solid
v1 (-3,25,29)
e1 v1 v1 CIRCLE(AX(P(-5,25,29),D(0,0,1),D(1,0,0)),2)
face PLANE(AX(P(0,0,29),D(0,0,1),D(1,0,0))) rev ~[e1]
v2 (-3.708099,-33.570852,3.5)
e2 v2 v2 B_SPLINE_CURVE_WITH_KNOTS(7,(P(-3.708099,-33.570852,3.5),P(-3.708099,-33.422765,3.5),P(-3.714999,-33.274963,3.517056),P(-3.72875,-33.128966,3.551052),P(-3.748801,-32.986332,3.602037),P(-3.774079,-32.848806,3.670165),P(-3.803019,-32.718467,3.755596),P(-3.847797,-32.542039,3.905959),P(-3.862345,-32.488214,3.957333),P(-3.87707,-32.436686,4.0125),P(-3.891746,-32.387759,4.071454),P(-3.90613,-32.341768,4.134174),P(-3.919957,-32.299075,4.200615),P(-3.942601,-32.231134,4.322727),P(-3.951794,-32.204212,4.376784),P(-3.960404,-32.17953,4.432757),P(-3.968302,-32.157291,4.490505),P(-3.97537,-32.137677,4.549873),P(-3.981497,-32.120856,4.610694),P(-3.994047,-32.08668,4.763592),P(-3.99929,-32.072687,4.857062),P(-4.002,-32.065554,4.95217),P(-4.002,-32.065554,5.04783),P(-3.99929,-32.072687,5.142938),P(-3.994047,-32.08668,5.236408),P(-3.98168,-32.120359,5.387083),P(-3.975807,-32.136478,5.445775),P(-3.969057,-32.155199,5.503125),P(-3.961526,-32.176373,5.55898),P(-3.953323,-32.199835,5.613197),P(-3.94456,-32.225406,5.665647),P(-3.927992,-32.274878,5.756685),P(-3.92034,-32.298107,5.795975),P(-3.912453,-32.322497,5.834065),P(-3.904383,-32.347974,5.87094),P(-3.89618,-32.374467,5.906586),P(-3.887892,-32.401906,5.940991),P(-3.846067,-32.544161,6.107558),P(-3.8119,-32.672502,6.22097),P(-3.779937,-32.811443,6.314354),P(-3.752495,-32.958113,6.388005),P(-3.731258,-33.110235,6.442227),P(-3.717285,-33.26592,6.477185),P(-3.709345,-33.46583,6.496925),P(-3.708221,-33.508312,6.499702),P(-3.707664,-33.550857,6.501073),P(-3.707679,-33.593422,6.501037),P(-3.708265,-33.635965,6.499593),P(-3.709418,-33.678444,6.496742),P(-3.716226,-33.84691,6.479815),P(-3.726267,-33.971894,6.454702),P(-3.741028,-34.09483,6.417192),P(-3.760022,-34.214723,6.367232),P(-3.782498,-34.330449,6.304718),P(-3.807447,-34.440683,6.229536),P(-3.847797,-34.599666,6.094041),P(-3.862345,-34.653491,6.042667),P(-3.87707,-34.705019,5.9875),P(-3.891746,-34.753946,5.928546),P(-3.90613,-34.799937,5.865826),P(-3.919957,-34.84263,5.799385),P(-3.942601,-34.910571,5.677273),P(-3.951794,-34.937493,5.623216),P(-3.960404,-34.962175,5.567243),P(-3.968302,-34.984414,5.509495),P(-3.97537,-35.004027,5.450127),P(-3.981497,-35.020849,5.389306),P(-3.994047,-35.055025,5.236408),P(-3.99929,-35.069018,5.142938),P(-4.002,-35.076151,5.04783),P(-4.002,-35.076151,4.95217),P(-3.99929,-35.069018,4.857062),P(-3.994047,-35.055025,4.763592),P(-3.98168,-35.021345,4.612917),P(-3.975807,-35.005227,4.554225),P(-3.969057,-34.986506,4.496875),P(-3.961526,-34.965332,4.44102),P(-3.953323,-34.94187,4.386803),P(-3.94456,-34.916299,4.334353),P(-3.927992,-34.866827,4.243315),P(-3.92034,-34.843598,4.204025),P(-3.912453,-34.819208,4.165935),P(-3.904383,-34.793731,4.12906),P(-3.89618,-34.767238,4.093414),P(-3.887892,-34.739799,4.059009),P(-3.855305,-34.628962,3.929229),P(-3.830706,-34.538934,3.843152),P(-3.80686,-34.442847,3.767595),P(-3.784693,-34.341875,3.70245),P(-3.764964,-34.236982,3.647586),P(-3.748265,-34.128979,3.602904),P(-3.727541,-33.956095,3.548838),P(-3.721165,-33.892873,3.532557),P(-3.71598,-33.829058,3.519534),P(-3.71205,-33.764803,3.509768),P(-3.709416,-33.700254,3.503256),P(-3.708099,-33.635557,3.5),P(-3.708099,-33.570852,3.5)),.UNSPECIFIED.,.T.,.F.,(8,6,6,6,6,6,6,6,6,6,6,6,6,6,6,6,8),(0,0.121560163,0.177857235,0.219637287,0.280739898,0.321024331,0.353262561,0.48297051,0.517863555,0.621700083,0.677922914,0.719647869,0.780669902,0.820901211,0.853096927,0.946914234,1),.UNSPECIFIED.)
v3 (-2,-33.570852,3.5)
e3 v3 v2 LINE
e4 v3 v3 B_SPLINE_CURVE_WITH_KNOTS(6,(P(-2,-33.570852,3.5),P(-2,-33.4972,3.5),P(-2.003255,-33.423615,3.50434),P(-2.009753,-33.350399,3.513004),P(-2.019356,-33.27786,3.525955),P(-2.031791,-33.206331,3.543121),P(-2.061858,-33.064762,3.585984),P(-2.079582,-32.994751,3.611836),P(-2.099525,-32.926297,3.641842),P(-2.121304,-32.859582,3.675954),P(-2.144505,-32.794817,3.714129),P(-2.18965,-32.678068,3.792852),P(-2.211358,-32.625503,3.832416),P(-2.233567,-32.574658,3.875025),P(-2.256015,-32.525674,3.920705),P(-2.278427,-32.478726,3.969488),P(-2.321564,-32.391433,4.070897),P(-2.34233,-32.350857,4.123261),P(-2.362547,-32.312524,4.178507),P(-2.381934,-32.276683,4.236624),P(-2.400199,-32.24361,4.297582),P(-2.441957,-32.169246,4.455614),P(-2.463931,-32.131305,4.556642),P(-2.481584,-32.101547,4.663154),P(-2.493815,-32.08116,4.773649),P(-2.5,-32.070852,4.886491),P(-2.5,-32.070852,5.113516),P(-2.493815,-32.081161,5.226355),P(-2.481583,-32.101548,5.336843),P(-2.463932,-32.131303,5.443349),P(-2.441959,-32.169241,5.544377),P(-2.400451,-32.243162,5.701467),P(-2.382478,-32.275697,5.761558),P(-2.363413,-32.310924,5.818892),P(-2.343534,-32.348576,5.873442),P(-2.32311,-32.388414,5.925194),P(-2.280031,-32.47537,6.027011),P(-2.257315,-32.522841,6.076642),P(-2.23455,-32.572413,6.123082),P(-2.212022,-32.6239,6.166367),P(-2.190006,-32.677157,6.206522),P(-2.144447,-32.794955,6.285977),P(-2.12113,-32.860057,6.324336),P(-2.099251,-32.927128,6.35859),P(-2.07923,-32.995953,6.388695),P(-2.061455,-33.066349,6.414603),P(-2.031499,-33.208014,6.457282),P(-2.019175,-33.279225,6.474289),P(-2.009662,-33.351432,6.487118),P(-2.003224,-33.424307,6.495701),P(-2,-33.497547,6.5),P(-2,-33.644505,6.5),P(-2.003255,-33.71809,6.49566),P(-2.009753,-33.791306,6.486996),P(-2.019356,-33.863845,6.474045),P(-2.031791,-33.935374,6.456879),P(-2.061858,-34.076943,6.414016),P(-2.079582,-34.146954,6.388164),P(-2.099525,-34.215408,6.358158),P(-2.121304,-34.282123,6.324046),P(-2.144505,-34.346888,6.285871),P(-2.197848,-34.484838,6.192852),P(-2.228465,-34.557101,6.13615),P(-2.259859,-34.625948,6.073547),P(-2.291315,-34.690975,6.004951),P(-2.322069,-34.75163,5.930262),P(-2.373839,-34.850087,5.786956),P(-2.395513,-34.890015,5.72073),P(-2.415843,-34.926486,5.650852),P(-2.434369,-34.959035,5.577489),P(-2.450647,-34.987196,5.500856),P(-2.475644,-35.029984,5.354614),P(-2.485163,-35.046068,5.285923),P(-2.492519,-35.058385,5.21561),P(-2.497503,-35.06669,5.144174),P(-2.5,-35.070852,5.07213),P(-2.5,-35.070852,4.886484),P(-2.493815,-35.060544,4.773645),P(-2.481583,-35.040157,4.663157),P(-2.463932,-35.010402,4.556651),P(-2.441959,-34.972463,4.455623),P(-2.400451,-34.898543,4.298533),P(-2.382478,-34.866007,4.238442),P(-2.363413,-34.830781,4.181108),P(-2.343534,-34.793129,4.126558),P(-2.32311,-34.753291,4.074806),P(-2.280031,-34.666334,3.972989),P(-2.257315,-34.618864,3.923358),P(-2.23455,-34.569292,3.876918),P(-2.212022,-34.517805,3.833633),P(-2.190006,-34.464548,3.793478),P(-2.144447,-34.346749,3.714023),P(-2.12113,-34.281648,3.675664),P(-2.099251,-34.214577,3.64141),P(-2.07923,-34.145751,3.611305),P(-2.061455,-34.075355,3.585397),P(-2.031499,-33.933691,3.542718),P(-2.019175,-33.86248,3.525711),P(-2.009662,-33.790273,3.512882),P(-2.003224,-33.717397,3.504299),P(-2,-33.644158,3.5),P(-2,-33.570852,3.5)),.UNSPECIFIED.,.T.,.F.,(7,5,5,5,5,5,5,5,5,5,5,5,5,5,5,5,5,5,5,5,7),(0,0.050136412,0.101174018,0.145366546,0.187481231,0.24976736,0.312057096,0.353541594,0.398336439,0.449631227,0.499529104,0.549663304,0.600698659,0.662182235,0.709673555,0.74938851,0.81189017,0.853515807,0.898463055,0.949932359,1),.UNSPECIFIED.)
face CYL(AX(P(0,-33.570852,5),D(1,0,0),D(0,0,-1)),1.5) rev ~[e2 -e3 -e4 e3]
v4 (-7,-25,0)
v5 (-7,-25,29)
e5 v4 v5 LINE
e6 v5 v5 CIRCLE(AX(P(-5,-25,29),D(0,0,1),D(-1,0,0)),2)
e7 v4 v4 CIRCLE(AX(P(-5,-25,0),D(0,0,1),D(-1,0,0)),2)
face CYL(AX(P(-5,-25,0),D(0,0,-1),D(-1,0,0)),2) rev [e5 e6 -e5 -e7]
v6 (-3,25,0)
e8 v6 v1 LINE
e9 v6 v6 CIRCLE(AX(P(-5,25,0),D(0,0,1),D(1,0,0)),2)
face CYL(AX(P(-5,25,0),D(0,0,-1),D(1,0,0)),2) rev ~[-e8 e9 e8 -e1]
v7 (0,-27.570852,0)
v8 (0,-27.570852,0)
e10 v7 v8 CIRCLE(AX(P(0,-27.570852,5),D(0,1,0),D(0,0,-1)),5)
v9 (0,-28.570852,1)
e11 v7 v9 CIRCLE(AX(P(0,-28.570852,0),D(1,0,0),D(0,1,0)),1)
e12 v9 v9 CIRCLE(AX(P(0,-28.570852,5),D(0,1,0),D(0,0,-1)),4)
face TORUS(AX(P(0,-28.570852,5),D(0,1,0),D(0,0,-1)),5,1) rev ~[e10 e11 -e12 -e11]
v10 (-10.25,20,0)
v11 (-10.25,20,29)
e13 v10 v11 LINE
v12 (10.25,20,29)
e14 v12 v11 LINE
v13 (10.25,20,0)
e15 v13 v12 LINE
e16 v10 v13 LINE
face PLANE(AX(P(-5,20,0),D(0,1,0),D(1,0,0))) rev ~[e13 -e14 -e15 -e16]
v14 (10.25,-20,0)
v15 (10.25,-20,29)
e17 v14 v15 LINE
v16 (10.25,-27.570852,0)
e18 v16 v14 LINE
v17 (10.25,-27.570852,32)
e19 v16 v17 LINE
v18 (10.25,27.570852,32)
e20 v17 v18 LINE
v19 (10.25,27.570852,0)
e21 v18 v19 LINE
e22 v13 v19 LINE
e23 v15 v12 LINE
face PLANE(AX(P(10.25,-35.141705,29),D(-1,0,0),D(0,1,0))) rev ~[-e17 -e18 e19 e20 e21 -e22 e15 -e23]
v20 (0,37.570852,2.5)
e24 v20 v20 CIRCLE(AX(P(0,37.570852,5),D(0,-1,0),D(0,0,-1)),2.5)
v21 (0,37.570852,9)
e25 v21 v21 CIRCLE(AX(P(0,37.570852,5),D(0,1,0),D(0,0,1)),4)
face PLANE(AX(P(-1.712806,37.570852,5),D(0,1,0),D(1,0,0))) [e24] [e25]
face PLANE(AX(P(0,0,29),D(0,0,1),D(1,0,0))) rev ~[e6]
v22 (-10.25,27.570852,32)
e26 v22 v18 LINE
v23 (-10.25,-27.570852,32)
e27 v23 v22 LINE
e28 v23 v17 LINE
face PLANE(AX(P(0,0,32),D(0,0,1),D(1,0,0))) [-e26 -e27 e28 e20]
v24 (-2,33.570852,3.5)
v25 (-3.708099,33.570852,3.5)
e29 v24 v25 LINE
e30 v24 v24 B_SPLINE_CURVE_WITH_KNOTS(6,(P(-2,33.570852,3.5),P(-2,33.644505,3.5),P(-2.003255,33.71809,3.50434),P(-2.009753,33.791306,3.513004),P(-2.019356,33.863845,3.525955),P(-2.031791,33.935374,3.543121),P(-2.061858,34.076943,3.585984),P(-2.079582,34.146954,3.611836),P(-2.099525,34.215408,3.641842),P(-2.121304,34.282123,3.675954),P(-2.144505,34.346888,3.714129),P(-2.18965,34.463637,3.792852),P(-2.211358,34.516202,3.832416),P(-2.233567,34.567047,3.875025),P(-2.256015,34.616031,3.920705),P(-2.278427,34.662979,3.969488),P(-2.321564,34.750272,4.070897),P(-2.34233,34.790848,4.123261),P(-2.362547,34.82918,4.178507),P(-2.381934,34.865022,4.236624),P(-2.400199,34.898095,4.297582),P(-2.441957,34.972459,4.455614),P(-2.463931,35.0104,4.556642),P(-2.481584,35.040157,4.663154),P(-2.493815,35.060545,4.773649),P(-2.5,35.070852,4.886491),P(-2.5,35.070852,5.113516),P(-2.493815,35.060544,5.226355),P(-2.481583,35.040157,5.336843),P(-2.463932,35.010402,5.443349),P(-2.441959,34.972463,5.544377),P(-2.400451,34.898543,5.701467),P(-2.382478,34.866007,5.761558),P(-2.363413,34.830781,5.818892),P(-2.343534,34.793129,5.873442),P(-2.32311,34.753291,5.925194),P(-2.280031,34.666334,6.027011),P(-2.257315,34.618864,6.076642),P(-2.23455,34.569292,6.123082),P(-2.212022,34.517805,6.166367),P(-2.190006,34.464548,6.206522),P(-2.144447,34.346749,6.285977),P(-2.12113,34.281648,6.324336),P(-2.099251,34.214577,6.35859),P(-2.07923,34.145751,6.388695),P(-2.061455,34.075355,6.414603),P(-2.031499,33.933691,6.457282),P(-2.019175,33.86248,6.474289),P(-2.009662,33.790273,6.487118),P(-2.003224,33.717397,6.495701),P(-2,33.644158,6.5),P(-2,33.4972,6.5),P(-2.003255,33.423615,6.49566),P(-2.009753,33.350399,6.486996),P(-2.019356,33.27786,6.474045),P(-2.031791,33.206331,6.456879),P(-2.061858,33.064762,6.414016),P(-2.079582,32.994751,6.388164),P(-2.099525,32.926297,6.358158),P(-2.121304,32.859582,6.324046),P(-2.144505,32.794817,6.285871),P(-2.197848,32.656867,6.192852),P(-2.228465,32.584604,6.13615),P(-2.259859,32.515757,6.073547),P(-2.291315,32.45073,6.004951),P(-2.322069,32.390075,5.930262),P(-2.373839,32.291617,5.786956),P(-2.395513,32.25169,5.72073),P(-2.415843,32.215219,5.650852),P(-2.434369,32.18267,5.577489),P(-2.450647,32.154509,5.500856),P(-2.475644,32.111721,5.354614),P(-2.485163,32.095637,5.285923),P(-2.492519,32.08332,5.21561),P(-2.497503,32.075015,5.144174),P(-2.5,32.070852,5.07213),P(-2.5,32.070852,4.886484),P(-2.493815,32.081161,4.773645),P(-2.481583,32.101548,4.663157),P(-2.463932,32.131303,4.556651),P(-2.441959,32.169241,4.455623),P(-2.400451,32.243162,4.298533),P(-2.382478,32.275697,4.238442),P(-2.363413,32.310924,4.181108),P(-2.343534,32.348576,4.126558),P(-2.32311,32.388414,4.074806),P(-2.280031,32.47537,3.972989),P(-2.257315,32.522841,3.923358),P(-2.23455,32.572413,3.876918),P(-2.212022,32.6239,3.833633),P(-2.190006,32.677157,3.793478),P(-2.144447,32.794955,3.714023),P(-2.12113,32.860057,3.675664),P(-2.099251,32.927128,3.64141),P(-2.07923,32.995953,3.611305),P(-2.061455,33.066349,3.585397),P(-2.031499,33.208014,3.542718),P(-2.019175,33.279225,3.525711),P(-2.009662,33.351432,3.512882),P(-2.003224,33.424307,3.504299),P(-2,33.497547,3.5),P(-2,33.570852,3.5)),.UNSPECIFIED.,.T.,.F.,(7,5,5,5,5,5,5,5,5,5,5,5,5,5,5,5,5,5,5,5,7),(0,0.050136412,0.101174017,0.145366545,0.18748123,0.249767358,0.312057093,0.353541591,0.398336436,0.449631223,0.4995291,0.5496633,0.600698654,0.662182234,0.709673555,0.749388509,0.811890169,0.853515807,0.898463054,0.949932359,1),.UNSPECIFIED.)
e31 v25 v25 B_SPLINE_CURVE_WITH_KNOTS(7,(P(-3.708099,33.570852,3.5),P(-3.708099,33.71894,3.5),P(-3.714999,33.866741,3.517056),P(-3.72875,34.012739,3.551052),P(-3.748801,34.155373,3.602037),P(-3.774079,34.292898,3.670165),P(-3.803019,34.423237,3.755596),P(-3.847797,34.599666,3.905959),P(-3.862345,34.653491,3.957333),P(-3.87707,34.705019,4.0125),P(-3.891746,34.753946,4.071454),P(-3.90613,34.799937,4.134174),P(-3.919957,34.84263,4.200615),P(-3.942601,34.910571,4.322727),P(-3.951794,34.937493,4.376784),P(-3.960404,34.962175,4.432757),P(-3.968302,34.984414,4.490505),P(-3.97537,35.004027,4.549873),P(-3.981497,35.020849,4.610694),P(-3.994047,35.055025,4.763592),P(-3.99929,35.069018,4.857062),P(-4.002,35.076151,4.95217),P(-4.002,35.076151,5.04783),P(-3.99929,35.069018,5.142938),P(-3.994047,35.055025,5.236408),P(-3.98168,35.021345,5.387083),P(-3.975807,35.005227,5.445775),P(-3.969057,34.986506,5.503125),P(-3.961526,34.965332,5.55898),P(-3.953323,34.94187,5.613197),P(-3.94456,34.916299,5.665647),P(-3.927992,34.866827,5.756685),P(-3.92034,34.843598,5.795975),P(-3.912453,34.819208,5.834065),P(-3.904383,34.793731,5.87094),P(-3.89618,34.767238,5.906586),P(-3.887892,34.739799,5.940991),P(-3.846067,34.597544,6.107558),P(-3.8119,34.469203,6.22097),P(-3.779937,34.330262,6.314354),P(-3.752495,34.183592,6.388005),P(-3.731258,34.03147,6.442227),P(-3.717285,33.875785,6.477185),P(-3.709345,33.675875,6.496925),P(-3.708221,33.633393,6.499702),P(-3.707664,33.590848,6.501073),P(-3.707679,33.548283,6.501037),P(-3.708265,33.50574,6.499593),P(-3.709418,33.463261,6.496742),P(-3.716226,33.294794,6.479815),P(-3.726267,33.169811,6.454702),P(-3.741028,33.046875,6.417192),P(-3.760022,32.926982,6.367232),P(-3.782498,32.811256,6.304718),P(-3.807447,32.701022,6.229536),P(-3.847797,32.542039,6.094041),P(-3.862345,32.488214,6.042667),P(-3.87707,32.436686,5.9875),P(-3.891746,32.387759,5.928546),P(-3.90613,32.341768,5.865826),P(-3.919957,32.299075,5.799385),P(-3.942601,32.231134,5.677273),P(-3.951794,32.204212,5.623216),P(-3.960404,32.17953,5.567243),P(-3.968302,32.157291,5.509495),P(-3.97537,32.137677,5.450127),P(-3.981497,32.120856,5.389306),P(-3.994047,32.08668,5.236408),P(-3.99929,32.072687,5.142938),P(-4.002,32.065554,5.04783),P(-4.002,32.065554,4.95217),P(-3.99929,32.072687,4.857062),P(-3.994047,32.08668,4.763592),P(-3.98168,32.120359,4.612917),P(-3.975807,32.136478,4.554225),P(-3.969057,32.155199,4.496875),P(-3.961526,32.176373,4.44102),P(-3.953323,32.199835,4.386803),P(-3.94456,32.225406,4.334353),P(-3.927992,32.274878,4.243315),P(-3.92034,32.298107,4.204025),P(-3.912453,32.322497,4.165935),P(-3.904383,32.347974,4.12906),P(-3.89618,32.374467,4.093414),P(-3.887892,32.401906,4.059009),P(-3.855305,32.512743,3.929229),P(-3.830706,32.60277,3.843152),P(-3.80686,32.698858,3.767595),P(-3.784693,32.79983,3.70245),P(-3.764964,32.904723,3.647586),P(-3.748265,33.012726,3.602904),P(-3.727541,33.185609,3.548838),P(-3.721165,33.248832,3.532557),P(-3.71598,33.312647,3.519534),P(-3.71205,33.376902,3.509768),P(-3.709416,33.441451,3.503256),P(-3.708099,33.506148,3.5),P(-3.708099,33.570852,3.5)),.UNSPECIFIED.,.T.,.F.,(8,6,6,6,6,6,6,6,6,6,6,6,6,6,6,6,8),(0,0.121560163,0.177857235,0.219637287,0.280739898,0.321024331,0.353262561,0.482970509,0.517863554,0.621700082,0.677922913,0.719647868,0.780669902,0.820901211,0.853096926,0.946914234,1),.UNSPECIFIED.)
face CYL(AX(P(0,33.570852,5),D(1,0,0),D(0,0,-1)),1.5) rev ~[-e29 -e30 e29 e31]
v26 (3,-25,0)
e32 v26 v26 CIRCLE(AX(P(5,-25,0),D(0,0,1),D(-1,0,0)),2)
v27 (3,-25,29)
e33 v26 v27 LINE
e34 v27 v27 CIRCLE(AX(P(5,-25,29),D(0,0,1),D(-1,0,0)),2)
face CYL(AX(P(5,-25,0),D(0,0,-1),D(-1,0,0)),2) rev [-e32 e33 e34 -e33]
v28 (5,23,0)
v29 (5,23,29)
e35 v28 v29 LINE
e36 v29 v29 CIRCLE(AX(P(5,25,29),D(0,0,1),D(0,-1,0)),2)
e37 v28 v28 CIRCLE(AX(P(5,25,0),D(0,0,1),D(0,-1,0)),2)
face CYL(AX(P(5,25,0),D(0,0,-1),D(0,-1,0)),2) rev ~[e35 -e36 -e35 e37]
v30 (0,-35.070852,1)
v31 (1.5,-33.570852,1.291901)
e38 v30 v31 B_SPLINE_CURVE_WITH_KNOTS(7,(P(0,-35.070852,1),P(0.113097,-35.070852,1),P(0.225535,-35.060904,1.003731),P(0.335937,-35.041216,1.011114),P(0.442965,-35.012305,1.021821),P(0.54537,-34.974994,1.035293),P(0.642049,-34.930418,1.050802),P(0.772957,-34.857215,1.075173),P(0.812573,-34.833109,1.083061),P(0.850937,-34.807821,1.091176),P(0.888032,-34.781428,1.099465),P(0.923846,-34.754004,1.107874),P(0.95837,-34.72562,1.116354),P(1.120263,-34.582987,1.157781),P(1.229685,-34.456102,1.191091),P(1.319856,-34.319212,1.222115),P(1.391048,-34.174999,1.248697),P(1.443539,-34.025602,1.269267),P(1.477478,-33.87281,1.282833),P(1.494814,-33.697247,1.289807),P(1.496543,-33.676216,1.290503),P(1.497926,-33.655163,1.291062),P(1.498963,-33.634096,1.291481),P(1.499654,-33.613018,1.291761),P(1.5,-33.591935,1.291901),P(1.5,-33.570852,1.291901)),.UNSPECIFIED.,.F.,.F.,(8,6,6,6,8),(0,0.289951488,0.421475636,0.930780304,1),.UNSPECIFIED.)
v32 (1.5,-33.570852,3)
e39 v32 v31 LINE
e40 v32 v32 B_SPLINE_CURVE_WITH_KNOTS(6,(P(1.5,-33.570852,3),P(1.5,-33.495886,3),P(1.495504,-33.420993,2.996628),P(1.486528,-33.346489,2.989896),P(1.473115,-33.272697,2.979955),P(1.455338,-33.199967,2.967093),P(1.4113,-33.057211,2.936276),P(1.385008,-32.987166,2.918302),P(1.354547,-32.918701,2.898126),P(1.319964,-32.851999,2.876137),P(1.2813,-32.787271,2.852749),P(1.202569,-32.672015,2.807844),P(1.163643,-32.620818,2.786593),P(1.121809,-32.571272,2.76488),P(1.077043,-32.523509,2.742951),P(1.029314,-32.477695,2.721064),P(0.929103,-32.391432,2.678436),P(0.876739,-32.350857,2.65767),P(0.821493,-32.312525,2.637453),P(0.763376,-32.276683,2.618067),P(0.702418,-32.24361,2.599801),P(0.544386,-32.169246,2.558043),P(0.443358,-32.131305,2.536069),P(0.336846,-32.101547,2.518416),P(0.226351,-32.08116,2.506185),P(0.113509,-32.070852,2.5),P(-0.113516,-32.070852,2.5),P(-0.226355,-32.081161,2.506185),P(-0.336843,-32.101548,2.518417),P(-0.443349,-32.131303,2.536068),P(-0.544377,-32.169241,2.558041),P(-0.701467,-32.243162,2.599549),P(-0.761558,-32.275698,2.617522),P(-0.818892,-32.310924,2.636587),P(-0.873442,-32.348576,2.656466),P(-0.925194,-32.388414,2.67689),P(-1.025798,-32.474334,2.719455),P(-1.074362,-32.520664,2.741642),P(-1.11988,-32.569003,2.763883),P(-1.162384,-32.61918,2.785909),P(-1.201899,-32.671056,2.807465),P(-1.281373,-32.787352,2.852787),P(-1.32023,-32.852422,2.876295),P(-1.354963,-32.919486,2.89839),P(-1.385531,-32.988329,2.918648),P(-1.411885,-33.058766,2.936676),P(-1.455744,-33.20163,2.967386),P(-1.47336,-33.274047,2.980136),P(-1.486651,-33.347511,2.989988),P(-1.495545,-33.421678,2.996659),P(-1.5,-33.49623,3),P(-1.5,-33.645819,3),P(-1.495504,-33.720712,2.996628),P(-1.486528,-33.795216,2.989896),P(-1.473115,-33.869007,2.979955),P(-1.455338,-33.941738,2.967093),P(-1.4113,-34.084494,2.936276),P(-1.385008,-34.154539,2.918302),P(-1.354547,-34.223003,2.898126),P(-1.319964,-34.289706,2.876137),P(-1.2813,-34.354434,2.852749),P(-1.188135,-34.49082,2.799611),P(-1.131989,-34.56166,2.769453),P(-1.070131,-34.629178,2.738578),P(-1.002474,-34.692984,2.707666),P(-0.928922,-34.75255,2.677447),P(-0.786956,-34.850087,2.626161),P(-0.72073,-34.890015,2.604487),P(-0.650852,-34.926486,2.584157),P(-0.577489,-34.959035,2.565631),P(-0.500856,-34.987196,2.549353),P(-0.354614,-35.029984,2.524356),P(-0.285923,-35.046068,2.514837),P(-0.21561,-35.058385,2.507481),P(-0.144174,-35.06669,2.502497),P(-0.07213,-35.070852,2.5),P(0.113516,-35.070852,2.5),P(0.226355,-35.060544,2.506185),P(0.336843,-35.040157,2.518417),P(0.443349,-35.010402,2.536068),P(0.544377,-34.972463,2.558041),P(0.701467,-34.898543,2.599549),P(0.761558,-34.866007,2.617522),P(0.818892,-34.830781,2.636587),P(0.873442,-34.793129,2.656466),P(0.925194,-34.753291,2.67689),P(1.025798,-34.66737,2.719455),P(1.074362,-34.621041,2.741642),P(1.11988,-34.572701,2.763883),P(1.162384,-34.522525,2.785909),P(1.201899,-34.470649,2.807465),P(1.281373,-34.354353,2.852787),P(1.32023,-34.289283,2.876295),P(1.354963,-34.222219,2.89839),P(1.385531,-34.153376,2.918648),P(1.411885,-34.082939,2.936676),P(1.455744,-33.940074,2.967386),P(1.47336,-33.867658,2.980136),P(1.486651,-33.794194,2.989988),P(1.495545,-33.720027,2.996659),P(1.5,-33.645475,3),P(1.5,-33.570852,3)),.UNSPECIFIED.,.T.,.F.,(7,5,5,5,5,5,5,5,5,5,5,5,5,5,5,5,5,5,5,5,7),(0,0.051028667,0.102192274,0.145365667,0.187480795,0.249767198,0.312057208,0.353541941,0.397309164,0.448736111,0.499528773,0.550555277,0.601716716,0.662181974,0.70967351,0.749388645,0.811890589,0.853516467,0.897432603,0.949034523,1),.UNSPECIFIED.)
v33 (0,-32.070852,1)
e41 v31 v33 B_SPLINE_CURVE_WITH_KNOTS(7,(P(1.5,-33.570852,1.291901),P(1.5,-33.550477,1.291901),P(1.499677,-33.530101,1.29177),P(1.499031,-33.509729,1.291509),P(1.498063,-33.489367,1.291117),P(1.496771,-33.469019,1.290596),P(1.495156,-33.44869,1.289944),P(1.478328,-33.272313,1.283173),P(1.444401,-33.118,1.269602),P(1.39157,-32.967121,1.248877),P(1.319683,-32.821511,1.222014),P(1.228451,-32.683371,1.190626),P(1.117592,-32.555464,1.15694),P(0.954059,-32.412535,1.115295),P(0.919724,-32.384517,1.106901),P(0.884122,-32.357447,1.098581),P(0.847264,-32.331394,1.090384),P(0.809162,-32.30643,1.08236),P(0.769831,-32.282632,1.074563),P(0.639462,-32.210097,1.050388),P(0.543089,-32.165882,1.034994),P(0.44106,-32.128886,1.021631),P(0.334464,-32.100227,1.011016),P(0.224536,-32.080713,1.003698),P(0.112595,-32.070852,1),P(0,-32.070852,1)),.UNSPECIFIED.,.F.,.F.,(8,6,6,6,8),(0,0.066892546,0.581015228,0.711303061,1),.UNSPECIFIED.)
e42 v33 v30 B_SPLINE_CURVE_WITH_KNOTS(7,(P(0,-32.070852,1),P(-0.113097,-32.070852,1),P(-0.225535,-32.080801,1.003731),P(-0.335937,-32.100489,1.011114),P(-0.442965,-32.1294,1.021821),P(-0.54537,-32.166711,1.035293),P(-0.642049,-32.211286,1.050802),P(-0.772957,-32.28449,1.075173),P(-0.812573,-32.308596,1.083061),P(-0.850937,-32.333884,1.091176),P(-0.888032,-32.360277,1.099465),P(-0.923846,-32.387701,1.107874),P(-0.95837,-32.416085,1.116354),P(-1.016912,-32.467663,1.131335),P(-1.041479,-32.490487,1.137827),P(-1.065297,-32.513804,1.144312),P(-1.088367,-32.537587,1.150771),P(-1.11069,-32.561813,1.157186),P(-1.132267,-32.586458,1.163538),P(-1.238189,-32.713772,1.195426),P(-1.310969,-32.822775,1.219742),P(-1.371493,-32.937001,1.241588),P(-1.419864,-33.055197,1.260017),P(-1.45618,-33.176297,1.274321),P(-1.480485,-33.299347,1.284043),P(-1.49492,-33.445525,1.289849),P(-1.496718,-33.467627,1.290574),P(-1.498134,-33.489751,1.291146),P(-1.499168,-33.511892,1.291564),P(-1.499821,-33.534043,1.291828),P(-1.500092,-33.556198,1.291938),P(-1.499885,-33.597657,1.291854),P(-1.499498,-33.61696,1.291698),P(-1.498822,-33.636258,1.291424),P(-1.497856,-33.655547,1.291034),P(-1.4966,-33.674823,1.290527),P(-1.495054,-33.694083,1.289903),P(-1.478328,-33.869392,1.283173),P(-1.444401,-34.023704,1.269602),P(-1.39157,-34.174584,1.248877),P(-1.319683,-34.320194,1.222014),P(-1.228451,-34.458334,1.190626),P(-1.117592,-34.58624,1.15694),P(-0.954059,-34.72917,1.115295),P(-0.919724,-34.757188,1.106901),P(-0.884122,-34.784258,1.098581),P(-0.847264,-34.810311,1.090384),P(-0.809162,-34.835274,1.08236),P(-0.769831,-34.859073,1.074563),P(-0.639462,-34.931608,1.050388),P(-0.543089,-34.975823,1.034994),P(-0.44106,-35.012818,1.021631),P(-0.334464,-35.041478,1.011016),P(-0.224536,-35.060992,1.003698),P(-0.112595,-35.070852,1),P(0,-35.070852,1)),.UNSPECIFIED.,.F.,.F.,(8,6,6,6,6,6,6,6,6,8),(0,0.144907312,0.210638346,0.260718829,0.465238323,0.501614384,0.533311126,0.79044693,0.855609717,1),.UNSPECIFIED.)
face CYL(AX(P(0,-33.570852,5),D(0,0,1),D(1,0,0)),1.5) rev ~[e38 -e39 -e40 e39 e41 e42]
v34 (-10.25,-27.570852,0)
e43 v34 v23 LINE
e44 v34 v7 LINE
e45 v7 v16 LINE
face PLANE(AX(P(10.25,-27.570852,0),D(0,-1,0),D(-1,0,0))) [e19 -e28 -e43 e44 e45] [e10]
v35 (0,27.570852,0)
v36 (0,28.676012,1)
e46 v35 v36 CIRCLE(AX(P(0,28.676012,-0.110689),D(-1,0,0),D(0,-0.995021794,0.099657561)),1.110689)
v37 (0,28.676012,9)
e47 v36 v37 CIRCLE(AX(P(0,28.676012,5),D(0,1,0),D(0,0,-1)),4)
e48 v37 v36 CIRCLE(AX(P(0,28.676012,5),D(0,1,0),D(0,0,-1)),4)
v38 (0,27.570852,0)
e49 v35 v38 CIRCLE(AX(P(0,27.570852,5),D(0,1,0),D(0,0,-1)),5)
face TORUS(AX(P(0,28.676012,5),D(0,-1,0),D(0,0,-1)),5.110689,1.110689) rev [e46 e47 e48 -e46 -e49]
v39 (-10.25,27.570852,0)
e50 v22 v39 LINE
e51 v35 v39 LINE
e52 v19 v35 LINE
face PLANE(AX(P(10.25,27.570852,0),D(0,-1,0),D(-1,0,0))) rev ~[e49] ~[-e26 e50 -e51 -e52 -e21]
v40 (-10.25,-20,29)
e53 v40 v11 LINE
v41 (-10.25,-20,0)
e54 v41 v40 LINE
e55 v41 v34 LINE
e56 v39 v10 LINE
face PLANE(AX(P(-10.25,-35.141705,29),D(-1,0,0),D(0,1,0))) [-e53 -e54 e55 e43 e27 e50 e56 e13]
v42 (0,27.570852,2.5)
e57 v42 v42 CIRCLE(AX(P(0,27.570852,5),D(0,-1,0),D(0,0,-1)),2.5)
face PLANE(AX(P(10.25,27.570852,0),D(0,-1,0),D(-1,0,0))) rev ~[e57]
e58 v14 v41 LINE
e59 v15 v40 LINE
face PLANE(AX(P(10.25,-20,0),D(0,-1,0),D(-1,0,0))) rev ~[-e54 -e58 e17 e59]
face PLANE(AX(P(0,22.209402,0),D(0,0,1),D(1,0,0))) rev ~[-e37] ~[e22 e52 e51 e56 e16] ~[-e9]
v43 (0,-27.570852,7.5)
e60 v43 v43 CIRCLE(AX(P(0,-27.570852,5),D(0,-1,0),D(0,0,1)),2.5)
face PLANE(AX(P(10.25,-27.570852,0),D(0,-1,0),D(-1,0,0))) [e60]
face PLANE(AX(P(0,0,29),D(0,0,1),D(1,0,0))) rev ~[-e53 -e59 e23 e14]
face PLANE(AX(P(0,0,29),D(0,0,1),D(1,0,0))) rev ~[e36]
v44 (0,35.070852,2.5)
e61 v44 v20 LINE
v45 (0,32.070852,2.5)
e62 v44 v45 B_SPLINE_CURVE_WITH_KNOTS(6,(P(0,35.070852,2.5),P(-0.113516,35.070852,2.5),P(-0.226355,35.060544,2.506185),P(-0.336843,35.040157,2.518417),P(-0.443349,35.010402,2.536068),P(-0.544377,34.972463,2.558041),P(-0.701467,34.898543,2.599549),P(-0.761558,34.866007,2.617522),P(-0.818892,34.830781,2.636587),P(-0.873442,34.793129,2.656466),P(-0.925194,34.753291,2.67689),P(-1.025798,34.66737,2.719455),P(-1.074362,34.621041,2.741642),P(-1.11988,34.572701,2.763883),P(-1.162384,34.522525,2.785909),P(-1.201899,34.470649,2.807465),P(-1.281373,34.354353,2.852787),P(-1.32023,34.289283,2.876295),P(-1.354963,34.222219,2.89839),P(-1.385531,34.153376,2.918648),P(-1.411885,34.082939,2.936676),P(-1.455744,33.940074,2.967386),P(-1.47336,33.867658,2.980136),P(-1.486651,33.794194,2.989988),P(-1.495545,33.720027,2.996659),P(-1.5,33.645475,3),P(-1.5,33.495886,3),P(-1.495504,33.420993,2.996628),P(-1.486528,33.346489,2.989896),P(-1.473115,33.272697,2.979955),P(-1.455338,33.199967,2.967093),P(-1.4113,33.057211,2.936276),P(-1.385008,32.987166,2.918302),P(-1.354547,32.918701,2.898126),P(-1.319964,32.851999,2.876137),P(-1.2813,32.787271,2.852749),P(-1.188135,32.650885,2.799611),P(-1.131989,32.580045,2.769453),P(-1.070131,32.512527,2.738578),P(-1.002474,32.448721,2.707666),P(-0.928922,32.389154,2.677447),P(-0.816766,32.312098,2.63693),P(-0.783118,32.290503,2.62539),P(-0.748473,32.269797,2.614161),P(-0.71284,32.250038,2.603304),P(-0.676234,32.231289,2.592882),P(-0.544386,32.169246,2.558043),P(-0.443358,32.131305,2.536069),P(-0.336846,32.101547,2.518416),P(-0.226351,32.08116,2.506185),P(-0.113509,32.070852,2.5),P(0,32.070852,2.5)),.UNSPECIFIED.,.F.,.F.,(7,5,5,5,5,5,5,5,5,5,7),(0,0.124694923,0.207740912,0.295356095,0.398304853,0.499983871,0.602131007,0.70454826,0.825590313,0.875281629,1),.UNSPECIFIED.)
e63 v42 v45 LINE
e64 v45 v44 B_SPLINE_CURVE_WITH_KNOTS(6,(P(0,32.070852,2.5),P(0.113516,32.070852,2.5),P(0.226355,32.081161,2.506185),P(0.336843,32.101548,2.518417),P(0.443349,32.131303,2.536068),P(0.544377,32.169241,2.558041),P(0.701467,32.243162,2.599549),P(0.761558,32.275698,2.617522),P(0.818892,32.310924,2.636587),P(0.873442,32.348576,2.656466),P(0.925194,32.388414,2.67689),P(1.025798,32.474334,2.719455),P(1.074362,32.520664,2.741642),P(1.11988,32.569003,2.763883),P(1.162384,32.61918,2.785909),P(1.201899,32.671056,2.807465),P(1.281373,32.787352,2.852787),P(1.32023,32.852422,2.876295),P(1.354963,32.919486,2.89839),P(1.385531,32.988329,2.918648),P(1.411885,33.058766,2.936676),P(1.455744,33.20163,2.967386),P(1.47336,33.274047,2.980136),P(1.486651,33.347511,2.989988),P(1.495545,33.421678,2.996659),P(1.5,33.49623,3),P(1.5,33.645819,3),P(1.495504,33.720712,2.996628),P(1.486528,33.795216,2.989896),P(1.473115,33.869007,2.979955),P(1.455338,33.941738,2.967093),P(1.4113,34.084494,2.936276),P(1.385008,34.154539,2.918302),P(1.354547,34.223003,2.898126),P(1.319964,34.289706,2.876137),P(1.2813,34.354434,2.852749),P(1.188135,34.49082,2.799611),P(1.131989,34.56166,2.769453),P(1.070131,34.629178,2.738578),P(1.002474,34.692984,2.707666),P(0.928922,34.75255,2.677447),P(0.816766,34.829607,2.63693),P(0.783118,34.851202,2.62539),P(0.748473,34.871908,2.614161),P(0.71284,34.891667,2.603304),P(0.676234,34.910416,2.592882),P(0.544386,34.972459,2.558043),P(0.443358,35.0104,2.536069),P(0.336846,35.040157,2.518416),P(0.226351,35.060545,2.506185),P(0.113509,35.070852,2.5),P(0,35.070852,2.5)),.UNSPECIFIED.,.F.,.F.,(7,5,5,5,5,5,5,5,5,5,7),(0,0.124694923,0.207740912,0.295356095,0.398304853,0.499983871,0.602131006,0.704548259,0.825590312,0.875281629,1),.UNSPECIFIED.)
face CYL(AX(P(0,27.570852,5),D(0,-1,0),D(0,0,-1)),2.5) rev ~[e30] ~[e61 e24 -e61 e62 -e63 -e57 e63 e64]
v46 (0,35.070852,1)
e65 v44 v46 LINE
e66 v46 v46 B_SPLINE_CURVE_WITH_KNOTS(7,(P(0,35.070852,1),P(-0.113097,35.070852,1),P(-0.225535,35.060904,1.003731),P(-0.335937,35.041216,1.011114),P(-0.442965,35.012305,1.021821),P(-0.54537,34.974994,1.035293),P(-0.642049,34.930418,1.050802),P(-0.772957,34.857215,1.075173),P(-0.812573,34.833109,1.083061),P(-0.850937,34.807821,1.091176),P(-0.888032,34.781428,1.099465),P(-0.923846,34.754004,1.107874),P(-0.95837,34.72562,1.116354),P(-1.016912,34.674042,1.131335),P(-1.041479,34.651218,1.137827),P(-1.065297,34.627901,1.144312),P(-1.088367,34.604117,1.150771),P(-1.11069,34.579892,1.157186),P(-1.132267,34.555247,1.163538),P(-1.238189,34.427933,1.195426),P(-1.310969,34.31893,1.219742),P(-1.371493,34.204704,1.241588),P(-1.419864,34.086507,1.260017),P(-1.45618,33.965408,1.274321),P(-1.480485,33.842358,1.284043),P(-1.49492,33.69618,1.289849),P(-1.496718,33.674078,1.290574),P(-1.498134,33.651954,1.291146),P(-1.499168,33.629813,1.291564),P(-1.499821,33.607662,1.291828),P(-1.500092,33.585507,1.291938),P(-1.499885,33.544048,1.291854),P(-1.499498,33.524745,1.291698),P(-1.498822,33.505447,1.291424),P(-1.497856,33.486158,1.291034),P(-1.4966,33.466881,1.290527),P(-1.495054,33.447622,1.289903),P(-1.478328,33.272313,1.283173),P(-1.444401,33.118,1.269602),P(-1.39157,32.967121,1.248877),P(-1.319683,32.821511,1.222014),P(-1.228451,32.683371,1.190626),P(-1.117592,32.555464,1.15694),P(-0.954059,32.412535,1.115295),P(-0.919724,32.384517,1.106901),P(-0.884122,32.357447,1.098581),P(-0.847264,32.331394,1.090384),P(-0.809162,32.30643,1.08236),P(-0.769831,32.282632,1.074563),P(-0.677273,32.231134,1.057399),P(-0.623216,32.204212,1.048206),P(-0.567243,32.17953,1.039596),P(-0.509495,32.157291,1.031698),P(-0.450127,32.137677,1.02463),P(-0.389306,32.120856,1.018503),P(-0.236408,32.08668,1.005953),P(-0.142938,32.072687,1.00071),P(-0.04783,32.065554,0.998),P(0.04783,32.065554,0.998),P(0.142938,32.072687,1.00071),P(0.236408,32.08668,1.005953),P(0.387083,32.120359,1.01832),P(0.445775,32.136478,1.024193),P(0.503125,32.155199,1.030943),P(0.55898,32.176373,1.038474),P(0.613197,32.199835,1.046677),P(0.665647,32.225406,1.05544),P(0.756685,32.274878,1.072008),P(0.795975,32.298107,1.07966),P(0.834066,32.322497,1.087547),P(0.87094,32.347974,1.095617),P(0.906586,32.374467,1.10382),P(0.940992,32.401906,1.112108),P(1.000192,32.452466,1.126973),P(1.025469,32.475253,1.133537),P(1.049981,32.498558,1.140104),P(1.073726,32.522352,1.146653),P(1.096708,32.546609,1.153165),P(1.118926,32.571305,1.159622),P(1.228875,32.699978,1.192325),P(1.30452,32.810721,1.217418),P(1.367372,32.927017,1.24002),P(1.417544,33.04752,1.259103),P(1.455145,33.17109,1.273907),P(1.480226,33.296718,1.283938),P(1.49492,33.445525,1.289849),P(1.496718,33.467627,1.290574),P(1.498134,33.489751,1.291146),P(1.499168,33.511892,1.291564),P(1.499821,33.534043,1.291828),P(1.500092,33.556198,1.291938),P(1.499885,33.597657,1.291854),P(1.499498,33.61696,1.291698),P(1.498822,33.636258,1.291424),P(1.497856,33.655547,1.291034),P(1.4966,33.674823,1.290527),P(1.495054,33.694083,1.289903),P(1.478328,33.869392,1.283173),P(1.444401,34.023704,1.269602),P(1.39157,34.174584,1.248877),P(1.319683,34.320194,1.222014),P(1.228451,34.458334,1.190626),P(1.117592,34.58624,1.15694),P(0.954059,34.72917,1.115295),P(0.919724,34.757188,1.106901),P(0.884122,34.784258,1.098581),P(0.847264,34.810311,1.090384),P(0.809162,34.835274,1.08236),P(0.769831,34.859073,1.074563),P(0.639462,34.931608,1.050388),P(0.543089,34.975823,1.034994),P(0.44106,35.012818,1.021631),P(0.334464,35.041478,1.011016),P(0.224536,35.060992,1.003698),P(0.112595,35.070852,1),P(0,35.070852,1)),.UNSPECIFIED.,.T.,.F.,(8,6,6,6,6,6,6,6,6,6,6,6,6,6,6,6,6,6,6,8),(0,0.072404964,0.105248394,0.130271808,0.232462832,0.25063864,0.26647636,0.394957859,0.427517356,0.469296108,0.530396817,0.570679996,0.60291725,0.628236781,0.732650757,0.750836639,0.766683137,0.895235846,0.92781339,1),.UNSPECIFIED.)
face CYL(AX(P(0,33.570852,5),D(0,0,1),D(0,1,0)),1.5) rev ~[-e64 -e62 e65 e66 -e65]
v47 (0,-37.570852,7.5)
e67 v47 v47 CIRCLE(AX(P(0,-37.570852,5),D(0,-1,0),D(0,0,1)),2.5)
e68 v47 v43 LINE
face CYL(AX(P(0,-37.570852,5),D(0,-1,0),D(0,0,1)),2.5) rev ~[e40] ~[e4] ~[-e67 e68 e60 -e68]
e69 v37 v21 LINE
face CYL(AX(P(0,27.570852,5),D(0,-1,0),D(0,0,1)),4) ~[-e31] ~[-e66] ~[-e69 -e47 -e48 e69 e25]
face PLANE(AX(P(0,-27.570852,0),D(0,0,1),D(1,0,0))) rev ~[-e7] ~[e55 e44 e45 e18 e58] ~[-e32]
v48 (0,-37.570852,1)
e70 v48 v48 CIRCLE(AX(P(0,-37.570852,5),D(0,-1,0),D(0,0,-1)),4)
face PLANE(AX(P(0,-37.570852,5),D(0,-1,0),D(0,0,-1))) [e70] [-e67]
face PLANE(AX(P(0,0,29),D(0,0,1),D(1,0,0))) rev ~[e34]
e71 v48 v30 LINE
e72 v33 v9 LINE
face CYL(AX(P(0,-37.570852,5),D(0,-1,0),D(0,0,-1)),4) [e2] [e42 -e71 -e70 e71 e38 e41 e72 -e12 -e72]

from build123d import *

# Parameters (mm, degrees)
SKETCH_1_R          = 2.000000000000001
EXTRUDE_1_DEPTH     = 29
SKETCH_2_W          = 20.5
SKETCH_2_H          = 70.28340969233892
EXTRUDE_2_DEPTH     = 3
SKETCH_3_W          = 20.5
SKETCH_3_H          = 7.570852423084727
CUT_EXTRUDE_1_DEPTH = 49.62100286394029
SKETCH_5_R          = 2.5
EXTRUDE_3_DEPTH     = 10
CUT_EXTRUDE_2_REACH = 75.297
SKETCH_8_R          = 1.6000000000000003
SKETCH_9_W          = 20.5
SKETCH_9_H          = 32
CUT_EXTRUDE_3_DEPTH = 65.57298284377197
SKETCH_12_W         = 20.499999999999996
SKETCH_12_H         = 7.57085242308473
SKETCH_12_R         = 2.0000000000000018
SKETCH_12_R_2       = 2.000000000000001
EXTRUDE_5_DEPTH     = 30
EXTRUDE_6_DEPTH     = 10
SKETCH_16_R         = 1.5000000000000004
CUT_EXTRUDE_5_DEPTH = 48.388093987806805
SKETCH_17_R         = 1.5000000000000004
CUT_EXTRUDE_6_DEPTH = 51.404676958704755
EXTRUDE_START       = 10
SKETCH_19_R         = 4
SKETCH_19_R_2       = 2.5000000000000004
EXTRUDE_7_DEPTH     = 10
SKETCH_21_R         = 1.5000000000000004
CUT_EXTRUDE_7_DEPTH = 48.38809406709012
SKETCH_22_R         = 1.5000000000000004
CUT_EXTRUDE_8_DEPTH = 51.404676958704755


with BuildPart() as part:
    # 草图1 → 凸台-拉伸1 (new body)
    # profile 1 of 3: a face of its own
    with BuildSketch(Plane.XY):
        with BuildLine():
            Line((-10.250000000000004, 35.14170484616946), (-10.250000000000004, 20))
            Line((-10.25, 20.000000000000004), (-4.999999999999999, 20.000000000000004))
            Line((-4.999999999999999, 20.000000000000004), (-4.999999999999999, 23.000000000000004))
            ThreePointArc((-5.000000000000001, 23.000000000000004), (-6.414213562373094, 26.4142135623731), (-2.9999999999999982, 25.000000000000004))
            Line((-2.9999999999999982, 25.000000000000004), (3, 25.000000000000004))
            ThreePointArc((3, 25.000000000000004), (5.000000000000001, 27.000000000000004), (7.000000000000002, 25.000000000000004))
            ThreePointArc((7.000000000000002, 25.000000000000004), (6.414213562373095, 23.585786437626908), (4.999999999999999, 23.000000000000004))
            Line((5.000000000000001, 23.000000000000004), (5.000000000000001, 20.000000000000004))
            Line((5, 20.000000000000004), (10.249999999999996, 20.000000000000004))
            Line((10.249999999999996, 20), (10.249999999999996, 35.14170484616946))
            Line((10.249999999999996, 35.14170484616946), (-10.250000000000004, 35.14170484616946))
        make_face()
    # profile 2 of 3: a face of its own
    with BuildSketch(Plane.XY):
        Polygon((10.249999999999996, -20), (-10.25, -20), (-10.250000000000004, -35.14170484616946), (10.249999999999996, -35.14170484616946), align=None)
        with Locations(Location((-4.999999999999999, -25.000000000000004, 0), (0, 0, 180))):
            Circle(SKETCH_1_R, mode=Mode.SUBTRACT)
        with Locations(Location((5.000000000000001, -25.000000000000004, 0), (0, 0, 180))):
            Circle(SKETCH_1_R, mode=Mode.SUBTRACT)
    # profile 3 of 3: a face of its own
    with BuildSketch(Plane.XY):
        with BuildLine():
            Line((-4.999999999999999, 23.000000000000004), (-4.999999999999999, 20.000000000000004))
            Line((-4.999999999999999, 20.000000000000004), (5, 20.000000000000004))
            Line((5.000000000000001, 20.000000000000004), (5.000000000000001, 23.000000000000004))
            ThreePointArc((4.999999999999999, 23.000000000000004), (3.585786437626904, 23.585786437626908), (3, 25.000000000000004))
            Line((3, 25.000000000000004), (-2.9999999999999982, 25.000000000000004))
            ThreePointArc((-2.9999999999999982, 25.000000000000004), (-3.585786437626905, 23.585786437626908), (-5.000000000000001, 23.000000000000004))
        make_face()
    extrude(amount=EXTRUDE_1_DEPTH)

    # 草图2 → 凸台-拉伸2 (add)
    with BuildSketch(Plane.XY.offset(29)):
        Rectangle(SKETCH_2_W, SKETCH_2_H)
    extrude(amount=EXTRUDE_2_DEPTH)

    # 草图3 → 切除-拉伸1 (cut, through all)
    with BuildSketch(Plane(origin=(0, 0, 0), x_dir=(-1, 0, 0), z_dir=(0, 0, -1))):
        with Locations((3.55e-15, -31.356278634627095)):
            Rectangle(SKETCH_3_W, SKETCH_3_H)
        Polygon((-10.249999999999996, 35.14170484616946), (-10.249999999999996, 27.57085242308473), (10.250000000000004, 27.570852423084734), (10.250000000000004, 35.14170484616946), align=None)
    extrude(amount=-CUT_EXTRUDE_1_DEPTH, mode=Mode.SUBTRACT)

    # 草图5 → 凸台-拉伸3 (add)
    with BuildSketch(Plane.XZ.offset(27.570852423084734)):
        with Locations(Location((0, 2.5, 0), (0, 0, 270))):
            Circle(SKETCH_5_R)
    extrude(amount=EXTRUDE_3_DEPTH)

    # 草图8 → 切除-拉伸2 (cut, up to next)
    with BuildSketch(Plane(origin=(0, 27.570852423084734, 0), x_dir=(1, 0, 0), z_dir=(0, 1, 0)), mode=Mode.PRIVATE) as cut_extrude_2_sk1:
        with Locations(Location((1.71e-15, -16.5, 0), (0, 0, 270))):
            Circle(SKETCH_8_R)
    cut_extrude_2_tool1 = extrude(cut_extrude_2_sk1.sketch, amount=-CUT_EXTRUDE_2_REACH, mode=Mode.PRIVATE) & part.part
    # 草图8 → 切除-拉伸2 (cut, up to next)
    with BuildSketch(Plane(origin=(0, 27.570852423084734, 0), x_dir=(1, 0, 0), z_dir=(0, 1, 0)), mode=Mode.PRIVATE) as cut_extrude_2_sk2:
        with Locations(Location((1.22e-15, -26.500000000000004, 0), (0, 0, 270))):
            Circle(SKETCH_8_R)
    cut_extrude_2_tool2 = extrude(cut_extrude_2_sk2.sketch, amount=-CUT_EXTRUDE_2_REACH, mode=Mode.PRIVATE) & part.part
    add(cut_extrude_2_tool1.solids().sort_by_distance((0, 27.570852, 16.5))[0], mode=Mode.SUBTRACT)
    add(cut_extrude_2_tool2.solids().sort_by_distance((0, 27.570852, 26.5))[0], mode=Mode.SUBTRACT)

    # 草图9 → 切除-拉伸3 (cut, through all)
    with BuildSketch(Plane.XZ.offset(27.570852423084734)):
        with Locations((-3.55e-15, 16)):
            Rectangle(SKETCH_9_W, SKETCH_9_H)
    extrude(amount=CUT_EXTRUDE_3_DEPTH, mode=Mode.SUBTRACT)

    # 草图12 → 凸台-拉伸5 (add)
    with BuildSketch(Plane(origin=(0, 0, 0), x_dir=(-1, 0, 0), z_dir=(0, 0, -1))):
        with Locations((1.78e-15, 23.78542621154237)):
            Rectangle(SKETCH_12_W, SKETCH_12_H)
        with Locations((-5.000000000000001, 25.000000000000004)):
            Circle(SKETCH_12_R, mode=Mode.SUBTRACT)
        with Locations((4.999999999999999, 25.000000000000004)):
            Circle(SKETCH_12_R_2, mode=Mode.SUBTRACT)
    extrude(amount=-EXTRUDE_5_DEPTH)

    # 草图13 → 凸台-拉伸6 (add)
    with BuildSketch(Plane(origin=(0, 27.570852423084734, 0), x_dir=(1, 0, 0), z_dir=(0, 1, 0))):
        with BuildLine():
            ThreePointArc((4.456e-14, -7.5), (-2.5, -5.000000000000058), (-7.084e-14, -2.4999999999999996))
            Line((-1.4e-16, -2.4999999999999996), (-5e-17, -1))
            ThreePointArc((7.635e-14, -1), (-3.9999999999999996, -4.999999999999907), (-1.067e-13, -9))
            Line((-4.9e-16, -9), (-4.1e-16, -7.5))
        make_face()
        with BuildLine():
            Line((-5e-17, -1), (-1.4e-16, -2.4999999999999996))
            ThreePointArc((-7.084e-14, -2.4999999999999996), (1.7677669529663447, -3.2322330470336054), (2.500000000000001, -5))
            ThreePointArc((2.500000000000001, -5.000000000000001), (1.767766952966385, -6.767766952966354), (4.456e-14, -7.5))
            Line((-4.1e-16, -7.5), (-4.9e-16, -9))
            ThreePointArc((-1.067e-13, -9), (2.828427124746152, -7.828427124746229), (4.000000000000001, -5.000000000000001))
            ThreePointArc((4.000000000000001, -5), (2.8284271247462174, -2.171572875253837), (7.635e-14, -1))
        make_face()
    extrude(amount=EXTRUDE_6_DEPTH)

    # 草图15 → 旋转1 (revolve)
    with BuildSketch(Plane(origin=(0, 0, 0), x_dir=(0, 0, -1), z_dir=(1, 0, 0))):
        with BuildLine():
            Line((-1, 27.570852423084734), (0, 27.570852423084734))
            ThreePointArc((0, 27.570852423084734), (-0.7128919117369903, 27.930797461014013), (-1, 28.676011694509246))
            Line((-1, 28.676011694509246), (-1, 27.570852423084734))
        make_face()
    revolve(axis=Axis((0, -962.4291475769152, 4.99999999999657), (0, 1, 3.43e-15)))

    # 草图16 → 切除-拉伸5 (cut, through all)
    with BuildSketch(Plane.XY.offset(5)):
        with Locations(Location((4.9e-16, 33.57085242308473, 0), (0, 0, 90))):
            Circle(SKETCH_16_R)
    extrude(amount=-CUT_EXTRUDE_5_DEPTH, mode=Mode.SUBTRACT)

    # 草图17 → 切除-拉伸6 (cut, through all)
    with BuildSketch(Plane(origin=(0, 0, 0), x_dir=(0, 0, -1), z_dir=(1, 0, 0))):
        with Locations((-5, 33.57085242308473)):
            Circle(SKETCH_17_R)
    extrude(amount=-CUT_EXTRUDE_6_DEPTH, mode=Mode.SUBTRACT)

    # 草图19 → 凸台-拉伸7 (add)
    with BuildSketch(Plane.XZ.offset(27.570852423084734).offset(EXTRUDE_START)):
        with Locations(Location((0, 4.999999999999998, 0), (0, 0, 270))):
            Circle(SKETCH_19_R)
        with Locations(Location((0, 4.999999999999998, 0), (0, 0, 90))):
            Circle(SKETCH_19_R_2, mode=Mode.SUBTRACT)
    extrude(amount=-EXTRUDE_7_DEPTH)

    # 草图20 → 旋转2 (revolve)
    with BuildSketch(Plane(origin=(0, 0, 0), x_dir=(0, 0, -1), z_dir=(1, 0, 0))):
        with BuildLine():
            Line((-0.9999999999999983, -27.570852423084734), (0, -27.570852423084734))
            ThreePointArc((0, -27.570852423084734), (-0.7071067811865462, -27.863745641898188), (-0.9999999999999981, -28.570852423084734))
            Line((-0.9999999999999981, -28.570852423084734), (-0.9999999999999983, -27.570852423084734))
        make_face()
    revolve(axis=Axis((0, -1027.5708524230847, 4.999999999996567), (0, 1, 3.43e-15)))

    # 草图21 → 切除-拉伸7 (cut, through all)
    with BuildSketch(Plane.XY.offset(5)):
        with Locations((0, -33.57085242308473)):
            Circle(SKETCH_21_R)
    extrude(amount=-CUT_EXTRUDE_7_DEPTH, mode=Mode.SUBTRACT)

    # 草图22 → 切除-拉伸8 (cut, through all)
    with BuildSketch(Plane(origin=(0, 0, 0), x_dir=(0, 0, -1), z_dir=(1, 0, 0))):
        with Locations((-5, -33.57085242308473)):
            Circle(SKETCH_22_R)
    extrude(amount=-CUT_EXTRUDE_8_DEPTH, mode=Mode.SUBTRACT)


solid = part.part
